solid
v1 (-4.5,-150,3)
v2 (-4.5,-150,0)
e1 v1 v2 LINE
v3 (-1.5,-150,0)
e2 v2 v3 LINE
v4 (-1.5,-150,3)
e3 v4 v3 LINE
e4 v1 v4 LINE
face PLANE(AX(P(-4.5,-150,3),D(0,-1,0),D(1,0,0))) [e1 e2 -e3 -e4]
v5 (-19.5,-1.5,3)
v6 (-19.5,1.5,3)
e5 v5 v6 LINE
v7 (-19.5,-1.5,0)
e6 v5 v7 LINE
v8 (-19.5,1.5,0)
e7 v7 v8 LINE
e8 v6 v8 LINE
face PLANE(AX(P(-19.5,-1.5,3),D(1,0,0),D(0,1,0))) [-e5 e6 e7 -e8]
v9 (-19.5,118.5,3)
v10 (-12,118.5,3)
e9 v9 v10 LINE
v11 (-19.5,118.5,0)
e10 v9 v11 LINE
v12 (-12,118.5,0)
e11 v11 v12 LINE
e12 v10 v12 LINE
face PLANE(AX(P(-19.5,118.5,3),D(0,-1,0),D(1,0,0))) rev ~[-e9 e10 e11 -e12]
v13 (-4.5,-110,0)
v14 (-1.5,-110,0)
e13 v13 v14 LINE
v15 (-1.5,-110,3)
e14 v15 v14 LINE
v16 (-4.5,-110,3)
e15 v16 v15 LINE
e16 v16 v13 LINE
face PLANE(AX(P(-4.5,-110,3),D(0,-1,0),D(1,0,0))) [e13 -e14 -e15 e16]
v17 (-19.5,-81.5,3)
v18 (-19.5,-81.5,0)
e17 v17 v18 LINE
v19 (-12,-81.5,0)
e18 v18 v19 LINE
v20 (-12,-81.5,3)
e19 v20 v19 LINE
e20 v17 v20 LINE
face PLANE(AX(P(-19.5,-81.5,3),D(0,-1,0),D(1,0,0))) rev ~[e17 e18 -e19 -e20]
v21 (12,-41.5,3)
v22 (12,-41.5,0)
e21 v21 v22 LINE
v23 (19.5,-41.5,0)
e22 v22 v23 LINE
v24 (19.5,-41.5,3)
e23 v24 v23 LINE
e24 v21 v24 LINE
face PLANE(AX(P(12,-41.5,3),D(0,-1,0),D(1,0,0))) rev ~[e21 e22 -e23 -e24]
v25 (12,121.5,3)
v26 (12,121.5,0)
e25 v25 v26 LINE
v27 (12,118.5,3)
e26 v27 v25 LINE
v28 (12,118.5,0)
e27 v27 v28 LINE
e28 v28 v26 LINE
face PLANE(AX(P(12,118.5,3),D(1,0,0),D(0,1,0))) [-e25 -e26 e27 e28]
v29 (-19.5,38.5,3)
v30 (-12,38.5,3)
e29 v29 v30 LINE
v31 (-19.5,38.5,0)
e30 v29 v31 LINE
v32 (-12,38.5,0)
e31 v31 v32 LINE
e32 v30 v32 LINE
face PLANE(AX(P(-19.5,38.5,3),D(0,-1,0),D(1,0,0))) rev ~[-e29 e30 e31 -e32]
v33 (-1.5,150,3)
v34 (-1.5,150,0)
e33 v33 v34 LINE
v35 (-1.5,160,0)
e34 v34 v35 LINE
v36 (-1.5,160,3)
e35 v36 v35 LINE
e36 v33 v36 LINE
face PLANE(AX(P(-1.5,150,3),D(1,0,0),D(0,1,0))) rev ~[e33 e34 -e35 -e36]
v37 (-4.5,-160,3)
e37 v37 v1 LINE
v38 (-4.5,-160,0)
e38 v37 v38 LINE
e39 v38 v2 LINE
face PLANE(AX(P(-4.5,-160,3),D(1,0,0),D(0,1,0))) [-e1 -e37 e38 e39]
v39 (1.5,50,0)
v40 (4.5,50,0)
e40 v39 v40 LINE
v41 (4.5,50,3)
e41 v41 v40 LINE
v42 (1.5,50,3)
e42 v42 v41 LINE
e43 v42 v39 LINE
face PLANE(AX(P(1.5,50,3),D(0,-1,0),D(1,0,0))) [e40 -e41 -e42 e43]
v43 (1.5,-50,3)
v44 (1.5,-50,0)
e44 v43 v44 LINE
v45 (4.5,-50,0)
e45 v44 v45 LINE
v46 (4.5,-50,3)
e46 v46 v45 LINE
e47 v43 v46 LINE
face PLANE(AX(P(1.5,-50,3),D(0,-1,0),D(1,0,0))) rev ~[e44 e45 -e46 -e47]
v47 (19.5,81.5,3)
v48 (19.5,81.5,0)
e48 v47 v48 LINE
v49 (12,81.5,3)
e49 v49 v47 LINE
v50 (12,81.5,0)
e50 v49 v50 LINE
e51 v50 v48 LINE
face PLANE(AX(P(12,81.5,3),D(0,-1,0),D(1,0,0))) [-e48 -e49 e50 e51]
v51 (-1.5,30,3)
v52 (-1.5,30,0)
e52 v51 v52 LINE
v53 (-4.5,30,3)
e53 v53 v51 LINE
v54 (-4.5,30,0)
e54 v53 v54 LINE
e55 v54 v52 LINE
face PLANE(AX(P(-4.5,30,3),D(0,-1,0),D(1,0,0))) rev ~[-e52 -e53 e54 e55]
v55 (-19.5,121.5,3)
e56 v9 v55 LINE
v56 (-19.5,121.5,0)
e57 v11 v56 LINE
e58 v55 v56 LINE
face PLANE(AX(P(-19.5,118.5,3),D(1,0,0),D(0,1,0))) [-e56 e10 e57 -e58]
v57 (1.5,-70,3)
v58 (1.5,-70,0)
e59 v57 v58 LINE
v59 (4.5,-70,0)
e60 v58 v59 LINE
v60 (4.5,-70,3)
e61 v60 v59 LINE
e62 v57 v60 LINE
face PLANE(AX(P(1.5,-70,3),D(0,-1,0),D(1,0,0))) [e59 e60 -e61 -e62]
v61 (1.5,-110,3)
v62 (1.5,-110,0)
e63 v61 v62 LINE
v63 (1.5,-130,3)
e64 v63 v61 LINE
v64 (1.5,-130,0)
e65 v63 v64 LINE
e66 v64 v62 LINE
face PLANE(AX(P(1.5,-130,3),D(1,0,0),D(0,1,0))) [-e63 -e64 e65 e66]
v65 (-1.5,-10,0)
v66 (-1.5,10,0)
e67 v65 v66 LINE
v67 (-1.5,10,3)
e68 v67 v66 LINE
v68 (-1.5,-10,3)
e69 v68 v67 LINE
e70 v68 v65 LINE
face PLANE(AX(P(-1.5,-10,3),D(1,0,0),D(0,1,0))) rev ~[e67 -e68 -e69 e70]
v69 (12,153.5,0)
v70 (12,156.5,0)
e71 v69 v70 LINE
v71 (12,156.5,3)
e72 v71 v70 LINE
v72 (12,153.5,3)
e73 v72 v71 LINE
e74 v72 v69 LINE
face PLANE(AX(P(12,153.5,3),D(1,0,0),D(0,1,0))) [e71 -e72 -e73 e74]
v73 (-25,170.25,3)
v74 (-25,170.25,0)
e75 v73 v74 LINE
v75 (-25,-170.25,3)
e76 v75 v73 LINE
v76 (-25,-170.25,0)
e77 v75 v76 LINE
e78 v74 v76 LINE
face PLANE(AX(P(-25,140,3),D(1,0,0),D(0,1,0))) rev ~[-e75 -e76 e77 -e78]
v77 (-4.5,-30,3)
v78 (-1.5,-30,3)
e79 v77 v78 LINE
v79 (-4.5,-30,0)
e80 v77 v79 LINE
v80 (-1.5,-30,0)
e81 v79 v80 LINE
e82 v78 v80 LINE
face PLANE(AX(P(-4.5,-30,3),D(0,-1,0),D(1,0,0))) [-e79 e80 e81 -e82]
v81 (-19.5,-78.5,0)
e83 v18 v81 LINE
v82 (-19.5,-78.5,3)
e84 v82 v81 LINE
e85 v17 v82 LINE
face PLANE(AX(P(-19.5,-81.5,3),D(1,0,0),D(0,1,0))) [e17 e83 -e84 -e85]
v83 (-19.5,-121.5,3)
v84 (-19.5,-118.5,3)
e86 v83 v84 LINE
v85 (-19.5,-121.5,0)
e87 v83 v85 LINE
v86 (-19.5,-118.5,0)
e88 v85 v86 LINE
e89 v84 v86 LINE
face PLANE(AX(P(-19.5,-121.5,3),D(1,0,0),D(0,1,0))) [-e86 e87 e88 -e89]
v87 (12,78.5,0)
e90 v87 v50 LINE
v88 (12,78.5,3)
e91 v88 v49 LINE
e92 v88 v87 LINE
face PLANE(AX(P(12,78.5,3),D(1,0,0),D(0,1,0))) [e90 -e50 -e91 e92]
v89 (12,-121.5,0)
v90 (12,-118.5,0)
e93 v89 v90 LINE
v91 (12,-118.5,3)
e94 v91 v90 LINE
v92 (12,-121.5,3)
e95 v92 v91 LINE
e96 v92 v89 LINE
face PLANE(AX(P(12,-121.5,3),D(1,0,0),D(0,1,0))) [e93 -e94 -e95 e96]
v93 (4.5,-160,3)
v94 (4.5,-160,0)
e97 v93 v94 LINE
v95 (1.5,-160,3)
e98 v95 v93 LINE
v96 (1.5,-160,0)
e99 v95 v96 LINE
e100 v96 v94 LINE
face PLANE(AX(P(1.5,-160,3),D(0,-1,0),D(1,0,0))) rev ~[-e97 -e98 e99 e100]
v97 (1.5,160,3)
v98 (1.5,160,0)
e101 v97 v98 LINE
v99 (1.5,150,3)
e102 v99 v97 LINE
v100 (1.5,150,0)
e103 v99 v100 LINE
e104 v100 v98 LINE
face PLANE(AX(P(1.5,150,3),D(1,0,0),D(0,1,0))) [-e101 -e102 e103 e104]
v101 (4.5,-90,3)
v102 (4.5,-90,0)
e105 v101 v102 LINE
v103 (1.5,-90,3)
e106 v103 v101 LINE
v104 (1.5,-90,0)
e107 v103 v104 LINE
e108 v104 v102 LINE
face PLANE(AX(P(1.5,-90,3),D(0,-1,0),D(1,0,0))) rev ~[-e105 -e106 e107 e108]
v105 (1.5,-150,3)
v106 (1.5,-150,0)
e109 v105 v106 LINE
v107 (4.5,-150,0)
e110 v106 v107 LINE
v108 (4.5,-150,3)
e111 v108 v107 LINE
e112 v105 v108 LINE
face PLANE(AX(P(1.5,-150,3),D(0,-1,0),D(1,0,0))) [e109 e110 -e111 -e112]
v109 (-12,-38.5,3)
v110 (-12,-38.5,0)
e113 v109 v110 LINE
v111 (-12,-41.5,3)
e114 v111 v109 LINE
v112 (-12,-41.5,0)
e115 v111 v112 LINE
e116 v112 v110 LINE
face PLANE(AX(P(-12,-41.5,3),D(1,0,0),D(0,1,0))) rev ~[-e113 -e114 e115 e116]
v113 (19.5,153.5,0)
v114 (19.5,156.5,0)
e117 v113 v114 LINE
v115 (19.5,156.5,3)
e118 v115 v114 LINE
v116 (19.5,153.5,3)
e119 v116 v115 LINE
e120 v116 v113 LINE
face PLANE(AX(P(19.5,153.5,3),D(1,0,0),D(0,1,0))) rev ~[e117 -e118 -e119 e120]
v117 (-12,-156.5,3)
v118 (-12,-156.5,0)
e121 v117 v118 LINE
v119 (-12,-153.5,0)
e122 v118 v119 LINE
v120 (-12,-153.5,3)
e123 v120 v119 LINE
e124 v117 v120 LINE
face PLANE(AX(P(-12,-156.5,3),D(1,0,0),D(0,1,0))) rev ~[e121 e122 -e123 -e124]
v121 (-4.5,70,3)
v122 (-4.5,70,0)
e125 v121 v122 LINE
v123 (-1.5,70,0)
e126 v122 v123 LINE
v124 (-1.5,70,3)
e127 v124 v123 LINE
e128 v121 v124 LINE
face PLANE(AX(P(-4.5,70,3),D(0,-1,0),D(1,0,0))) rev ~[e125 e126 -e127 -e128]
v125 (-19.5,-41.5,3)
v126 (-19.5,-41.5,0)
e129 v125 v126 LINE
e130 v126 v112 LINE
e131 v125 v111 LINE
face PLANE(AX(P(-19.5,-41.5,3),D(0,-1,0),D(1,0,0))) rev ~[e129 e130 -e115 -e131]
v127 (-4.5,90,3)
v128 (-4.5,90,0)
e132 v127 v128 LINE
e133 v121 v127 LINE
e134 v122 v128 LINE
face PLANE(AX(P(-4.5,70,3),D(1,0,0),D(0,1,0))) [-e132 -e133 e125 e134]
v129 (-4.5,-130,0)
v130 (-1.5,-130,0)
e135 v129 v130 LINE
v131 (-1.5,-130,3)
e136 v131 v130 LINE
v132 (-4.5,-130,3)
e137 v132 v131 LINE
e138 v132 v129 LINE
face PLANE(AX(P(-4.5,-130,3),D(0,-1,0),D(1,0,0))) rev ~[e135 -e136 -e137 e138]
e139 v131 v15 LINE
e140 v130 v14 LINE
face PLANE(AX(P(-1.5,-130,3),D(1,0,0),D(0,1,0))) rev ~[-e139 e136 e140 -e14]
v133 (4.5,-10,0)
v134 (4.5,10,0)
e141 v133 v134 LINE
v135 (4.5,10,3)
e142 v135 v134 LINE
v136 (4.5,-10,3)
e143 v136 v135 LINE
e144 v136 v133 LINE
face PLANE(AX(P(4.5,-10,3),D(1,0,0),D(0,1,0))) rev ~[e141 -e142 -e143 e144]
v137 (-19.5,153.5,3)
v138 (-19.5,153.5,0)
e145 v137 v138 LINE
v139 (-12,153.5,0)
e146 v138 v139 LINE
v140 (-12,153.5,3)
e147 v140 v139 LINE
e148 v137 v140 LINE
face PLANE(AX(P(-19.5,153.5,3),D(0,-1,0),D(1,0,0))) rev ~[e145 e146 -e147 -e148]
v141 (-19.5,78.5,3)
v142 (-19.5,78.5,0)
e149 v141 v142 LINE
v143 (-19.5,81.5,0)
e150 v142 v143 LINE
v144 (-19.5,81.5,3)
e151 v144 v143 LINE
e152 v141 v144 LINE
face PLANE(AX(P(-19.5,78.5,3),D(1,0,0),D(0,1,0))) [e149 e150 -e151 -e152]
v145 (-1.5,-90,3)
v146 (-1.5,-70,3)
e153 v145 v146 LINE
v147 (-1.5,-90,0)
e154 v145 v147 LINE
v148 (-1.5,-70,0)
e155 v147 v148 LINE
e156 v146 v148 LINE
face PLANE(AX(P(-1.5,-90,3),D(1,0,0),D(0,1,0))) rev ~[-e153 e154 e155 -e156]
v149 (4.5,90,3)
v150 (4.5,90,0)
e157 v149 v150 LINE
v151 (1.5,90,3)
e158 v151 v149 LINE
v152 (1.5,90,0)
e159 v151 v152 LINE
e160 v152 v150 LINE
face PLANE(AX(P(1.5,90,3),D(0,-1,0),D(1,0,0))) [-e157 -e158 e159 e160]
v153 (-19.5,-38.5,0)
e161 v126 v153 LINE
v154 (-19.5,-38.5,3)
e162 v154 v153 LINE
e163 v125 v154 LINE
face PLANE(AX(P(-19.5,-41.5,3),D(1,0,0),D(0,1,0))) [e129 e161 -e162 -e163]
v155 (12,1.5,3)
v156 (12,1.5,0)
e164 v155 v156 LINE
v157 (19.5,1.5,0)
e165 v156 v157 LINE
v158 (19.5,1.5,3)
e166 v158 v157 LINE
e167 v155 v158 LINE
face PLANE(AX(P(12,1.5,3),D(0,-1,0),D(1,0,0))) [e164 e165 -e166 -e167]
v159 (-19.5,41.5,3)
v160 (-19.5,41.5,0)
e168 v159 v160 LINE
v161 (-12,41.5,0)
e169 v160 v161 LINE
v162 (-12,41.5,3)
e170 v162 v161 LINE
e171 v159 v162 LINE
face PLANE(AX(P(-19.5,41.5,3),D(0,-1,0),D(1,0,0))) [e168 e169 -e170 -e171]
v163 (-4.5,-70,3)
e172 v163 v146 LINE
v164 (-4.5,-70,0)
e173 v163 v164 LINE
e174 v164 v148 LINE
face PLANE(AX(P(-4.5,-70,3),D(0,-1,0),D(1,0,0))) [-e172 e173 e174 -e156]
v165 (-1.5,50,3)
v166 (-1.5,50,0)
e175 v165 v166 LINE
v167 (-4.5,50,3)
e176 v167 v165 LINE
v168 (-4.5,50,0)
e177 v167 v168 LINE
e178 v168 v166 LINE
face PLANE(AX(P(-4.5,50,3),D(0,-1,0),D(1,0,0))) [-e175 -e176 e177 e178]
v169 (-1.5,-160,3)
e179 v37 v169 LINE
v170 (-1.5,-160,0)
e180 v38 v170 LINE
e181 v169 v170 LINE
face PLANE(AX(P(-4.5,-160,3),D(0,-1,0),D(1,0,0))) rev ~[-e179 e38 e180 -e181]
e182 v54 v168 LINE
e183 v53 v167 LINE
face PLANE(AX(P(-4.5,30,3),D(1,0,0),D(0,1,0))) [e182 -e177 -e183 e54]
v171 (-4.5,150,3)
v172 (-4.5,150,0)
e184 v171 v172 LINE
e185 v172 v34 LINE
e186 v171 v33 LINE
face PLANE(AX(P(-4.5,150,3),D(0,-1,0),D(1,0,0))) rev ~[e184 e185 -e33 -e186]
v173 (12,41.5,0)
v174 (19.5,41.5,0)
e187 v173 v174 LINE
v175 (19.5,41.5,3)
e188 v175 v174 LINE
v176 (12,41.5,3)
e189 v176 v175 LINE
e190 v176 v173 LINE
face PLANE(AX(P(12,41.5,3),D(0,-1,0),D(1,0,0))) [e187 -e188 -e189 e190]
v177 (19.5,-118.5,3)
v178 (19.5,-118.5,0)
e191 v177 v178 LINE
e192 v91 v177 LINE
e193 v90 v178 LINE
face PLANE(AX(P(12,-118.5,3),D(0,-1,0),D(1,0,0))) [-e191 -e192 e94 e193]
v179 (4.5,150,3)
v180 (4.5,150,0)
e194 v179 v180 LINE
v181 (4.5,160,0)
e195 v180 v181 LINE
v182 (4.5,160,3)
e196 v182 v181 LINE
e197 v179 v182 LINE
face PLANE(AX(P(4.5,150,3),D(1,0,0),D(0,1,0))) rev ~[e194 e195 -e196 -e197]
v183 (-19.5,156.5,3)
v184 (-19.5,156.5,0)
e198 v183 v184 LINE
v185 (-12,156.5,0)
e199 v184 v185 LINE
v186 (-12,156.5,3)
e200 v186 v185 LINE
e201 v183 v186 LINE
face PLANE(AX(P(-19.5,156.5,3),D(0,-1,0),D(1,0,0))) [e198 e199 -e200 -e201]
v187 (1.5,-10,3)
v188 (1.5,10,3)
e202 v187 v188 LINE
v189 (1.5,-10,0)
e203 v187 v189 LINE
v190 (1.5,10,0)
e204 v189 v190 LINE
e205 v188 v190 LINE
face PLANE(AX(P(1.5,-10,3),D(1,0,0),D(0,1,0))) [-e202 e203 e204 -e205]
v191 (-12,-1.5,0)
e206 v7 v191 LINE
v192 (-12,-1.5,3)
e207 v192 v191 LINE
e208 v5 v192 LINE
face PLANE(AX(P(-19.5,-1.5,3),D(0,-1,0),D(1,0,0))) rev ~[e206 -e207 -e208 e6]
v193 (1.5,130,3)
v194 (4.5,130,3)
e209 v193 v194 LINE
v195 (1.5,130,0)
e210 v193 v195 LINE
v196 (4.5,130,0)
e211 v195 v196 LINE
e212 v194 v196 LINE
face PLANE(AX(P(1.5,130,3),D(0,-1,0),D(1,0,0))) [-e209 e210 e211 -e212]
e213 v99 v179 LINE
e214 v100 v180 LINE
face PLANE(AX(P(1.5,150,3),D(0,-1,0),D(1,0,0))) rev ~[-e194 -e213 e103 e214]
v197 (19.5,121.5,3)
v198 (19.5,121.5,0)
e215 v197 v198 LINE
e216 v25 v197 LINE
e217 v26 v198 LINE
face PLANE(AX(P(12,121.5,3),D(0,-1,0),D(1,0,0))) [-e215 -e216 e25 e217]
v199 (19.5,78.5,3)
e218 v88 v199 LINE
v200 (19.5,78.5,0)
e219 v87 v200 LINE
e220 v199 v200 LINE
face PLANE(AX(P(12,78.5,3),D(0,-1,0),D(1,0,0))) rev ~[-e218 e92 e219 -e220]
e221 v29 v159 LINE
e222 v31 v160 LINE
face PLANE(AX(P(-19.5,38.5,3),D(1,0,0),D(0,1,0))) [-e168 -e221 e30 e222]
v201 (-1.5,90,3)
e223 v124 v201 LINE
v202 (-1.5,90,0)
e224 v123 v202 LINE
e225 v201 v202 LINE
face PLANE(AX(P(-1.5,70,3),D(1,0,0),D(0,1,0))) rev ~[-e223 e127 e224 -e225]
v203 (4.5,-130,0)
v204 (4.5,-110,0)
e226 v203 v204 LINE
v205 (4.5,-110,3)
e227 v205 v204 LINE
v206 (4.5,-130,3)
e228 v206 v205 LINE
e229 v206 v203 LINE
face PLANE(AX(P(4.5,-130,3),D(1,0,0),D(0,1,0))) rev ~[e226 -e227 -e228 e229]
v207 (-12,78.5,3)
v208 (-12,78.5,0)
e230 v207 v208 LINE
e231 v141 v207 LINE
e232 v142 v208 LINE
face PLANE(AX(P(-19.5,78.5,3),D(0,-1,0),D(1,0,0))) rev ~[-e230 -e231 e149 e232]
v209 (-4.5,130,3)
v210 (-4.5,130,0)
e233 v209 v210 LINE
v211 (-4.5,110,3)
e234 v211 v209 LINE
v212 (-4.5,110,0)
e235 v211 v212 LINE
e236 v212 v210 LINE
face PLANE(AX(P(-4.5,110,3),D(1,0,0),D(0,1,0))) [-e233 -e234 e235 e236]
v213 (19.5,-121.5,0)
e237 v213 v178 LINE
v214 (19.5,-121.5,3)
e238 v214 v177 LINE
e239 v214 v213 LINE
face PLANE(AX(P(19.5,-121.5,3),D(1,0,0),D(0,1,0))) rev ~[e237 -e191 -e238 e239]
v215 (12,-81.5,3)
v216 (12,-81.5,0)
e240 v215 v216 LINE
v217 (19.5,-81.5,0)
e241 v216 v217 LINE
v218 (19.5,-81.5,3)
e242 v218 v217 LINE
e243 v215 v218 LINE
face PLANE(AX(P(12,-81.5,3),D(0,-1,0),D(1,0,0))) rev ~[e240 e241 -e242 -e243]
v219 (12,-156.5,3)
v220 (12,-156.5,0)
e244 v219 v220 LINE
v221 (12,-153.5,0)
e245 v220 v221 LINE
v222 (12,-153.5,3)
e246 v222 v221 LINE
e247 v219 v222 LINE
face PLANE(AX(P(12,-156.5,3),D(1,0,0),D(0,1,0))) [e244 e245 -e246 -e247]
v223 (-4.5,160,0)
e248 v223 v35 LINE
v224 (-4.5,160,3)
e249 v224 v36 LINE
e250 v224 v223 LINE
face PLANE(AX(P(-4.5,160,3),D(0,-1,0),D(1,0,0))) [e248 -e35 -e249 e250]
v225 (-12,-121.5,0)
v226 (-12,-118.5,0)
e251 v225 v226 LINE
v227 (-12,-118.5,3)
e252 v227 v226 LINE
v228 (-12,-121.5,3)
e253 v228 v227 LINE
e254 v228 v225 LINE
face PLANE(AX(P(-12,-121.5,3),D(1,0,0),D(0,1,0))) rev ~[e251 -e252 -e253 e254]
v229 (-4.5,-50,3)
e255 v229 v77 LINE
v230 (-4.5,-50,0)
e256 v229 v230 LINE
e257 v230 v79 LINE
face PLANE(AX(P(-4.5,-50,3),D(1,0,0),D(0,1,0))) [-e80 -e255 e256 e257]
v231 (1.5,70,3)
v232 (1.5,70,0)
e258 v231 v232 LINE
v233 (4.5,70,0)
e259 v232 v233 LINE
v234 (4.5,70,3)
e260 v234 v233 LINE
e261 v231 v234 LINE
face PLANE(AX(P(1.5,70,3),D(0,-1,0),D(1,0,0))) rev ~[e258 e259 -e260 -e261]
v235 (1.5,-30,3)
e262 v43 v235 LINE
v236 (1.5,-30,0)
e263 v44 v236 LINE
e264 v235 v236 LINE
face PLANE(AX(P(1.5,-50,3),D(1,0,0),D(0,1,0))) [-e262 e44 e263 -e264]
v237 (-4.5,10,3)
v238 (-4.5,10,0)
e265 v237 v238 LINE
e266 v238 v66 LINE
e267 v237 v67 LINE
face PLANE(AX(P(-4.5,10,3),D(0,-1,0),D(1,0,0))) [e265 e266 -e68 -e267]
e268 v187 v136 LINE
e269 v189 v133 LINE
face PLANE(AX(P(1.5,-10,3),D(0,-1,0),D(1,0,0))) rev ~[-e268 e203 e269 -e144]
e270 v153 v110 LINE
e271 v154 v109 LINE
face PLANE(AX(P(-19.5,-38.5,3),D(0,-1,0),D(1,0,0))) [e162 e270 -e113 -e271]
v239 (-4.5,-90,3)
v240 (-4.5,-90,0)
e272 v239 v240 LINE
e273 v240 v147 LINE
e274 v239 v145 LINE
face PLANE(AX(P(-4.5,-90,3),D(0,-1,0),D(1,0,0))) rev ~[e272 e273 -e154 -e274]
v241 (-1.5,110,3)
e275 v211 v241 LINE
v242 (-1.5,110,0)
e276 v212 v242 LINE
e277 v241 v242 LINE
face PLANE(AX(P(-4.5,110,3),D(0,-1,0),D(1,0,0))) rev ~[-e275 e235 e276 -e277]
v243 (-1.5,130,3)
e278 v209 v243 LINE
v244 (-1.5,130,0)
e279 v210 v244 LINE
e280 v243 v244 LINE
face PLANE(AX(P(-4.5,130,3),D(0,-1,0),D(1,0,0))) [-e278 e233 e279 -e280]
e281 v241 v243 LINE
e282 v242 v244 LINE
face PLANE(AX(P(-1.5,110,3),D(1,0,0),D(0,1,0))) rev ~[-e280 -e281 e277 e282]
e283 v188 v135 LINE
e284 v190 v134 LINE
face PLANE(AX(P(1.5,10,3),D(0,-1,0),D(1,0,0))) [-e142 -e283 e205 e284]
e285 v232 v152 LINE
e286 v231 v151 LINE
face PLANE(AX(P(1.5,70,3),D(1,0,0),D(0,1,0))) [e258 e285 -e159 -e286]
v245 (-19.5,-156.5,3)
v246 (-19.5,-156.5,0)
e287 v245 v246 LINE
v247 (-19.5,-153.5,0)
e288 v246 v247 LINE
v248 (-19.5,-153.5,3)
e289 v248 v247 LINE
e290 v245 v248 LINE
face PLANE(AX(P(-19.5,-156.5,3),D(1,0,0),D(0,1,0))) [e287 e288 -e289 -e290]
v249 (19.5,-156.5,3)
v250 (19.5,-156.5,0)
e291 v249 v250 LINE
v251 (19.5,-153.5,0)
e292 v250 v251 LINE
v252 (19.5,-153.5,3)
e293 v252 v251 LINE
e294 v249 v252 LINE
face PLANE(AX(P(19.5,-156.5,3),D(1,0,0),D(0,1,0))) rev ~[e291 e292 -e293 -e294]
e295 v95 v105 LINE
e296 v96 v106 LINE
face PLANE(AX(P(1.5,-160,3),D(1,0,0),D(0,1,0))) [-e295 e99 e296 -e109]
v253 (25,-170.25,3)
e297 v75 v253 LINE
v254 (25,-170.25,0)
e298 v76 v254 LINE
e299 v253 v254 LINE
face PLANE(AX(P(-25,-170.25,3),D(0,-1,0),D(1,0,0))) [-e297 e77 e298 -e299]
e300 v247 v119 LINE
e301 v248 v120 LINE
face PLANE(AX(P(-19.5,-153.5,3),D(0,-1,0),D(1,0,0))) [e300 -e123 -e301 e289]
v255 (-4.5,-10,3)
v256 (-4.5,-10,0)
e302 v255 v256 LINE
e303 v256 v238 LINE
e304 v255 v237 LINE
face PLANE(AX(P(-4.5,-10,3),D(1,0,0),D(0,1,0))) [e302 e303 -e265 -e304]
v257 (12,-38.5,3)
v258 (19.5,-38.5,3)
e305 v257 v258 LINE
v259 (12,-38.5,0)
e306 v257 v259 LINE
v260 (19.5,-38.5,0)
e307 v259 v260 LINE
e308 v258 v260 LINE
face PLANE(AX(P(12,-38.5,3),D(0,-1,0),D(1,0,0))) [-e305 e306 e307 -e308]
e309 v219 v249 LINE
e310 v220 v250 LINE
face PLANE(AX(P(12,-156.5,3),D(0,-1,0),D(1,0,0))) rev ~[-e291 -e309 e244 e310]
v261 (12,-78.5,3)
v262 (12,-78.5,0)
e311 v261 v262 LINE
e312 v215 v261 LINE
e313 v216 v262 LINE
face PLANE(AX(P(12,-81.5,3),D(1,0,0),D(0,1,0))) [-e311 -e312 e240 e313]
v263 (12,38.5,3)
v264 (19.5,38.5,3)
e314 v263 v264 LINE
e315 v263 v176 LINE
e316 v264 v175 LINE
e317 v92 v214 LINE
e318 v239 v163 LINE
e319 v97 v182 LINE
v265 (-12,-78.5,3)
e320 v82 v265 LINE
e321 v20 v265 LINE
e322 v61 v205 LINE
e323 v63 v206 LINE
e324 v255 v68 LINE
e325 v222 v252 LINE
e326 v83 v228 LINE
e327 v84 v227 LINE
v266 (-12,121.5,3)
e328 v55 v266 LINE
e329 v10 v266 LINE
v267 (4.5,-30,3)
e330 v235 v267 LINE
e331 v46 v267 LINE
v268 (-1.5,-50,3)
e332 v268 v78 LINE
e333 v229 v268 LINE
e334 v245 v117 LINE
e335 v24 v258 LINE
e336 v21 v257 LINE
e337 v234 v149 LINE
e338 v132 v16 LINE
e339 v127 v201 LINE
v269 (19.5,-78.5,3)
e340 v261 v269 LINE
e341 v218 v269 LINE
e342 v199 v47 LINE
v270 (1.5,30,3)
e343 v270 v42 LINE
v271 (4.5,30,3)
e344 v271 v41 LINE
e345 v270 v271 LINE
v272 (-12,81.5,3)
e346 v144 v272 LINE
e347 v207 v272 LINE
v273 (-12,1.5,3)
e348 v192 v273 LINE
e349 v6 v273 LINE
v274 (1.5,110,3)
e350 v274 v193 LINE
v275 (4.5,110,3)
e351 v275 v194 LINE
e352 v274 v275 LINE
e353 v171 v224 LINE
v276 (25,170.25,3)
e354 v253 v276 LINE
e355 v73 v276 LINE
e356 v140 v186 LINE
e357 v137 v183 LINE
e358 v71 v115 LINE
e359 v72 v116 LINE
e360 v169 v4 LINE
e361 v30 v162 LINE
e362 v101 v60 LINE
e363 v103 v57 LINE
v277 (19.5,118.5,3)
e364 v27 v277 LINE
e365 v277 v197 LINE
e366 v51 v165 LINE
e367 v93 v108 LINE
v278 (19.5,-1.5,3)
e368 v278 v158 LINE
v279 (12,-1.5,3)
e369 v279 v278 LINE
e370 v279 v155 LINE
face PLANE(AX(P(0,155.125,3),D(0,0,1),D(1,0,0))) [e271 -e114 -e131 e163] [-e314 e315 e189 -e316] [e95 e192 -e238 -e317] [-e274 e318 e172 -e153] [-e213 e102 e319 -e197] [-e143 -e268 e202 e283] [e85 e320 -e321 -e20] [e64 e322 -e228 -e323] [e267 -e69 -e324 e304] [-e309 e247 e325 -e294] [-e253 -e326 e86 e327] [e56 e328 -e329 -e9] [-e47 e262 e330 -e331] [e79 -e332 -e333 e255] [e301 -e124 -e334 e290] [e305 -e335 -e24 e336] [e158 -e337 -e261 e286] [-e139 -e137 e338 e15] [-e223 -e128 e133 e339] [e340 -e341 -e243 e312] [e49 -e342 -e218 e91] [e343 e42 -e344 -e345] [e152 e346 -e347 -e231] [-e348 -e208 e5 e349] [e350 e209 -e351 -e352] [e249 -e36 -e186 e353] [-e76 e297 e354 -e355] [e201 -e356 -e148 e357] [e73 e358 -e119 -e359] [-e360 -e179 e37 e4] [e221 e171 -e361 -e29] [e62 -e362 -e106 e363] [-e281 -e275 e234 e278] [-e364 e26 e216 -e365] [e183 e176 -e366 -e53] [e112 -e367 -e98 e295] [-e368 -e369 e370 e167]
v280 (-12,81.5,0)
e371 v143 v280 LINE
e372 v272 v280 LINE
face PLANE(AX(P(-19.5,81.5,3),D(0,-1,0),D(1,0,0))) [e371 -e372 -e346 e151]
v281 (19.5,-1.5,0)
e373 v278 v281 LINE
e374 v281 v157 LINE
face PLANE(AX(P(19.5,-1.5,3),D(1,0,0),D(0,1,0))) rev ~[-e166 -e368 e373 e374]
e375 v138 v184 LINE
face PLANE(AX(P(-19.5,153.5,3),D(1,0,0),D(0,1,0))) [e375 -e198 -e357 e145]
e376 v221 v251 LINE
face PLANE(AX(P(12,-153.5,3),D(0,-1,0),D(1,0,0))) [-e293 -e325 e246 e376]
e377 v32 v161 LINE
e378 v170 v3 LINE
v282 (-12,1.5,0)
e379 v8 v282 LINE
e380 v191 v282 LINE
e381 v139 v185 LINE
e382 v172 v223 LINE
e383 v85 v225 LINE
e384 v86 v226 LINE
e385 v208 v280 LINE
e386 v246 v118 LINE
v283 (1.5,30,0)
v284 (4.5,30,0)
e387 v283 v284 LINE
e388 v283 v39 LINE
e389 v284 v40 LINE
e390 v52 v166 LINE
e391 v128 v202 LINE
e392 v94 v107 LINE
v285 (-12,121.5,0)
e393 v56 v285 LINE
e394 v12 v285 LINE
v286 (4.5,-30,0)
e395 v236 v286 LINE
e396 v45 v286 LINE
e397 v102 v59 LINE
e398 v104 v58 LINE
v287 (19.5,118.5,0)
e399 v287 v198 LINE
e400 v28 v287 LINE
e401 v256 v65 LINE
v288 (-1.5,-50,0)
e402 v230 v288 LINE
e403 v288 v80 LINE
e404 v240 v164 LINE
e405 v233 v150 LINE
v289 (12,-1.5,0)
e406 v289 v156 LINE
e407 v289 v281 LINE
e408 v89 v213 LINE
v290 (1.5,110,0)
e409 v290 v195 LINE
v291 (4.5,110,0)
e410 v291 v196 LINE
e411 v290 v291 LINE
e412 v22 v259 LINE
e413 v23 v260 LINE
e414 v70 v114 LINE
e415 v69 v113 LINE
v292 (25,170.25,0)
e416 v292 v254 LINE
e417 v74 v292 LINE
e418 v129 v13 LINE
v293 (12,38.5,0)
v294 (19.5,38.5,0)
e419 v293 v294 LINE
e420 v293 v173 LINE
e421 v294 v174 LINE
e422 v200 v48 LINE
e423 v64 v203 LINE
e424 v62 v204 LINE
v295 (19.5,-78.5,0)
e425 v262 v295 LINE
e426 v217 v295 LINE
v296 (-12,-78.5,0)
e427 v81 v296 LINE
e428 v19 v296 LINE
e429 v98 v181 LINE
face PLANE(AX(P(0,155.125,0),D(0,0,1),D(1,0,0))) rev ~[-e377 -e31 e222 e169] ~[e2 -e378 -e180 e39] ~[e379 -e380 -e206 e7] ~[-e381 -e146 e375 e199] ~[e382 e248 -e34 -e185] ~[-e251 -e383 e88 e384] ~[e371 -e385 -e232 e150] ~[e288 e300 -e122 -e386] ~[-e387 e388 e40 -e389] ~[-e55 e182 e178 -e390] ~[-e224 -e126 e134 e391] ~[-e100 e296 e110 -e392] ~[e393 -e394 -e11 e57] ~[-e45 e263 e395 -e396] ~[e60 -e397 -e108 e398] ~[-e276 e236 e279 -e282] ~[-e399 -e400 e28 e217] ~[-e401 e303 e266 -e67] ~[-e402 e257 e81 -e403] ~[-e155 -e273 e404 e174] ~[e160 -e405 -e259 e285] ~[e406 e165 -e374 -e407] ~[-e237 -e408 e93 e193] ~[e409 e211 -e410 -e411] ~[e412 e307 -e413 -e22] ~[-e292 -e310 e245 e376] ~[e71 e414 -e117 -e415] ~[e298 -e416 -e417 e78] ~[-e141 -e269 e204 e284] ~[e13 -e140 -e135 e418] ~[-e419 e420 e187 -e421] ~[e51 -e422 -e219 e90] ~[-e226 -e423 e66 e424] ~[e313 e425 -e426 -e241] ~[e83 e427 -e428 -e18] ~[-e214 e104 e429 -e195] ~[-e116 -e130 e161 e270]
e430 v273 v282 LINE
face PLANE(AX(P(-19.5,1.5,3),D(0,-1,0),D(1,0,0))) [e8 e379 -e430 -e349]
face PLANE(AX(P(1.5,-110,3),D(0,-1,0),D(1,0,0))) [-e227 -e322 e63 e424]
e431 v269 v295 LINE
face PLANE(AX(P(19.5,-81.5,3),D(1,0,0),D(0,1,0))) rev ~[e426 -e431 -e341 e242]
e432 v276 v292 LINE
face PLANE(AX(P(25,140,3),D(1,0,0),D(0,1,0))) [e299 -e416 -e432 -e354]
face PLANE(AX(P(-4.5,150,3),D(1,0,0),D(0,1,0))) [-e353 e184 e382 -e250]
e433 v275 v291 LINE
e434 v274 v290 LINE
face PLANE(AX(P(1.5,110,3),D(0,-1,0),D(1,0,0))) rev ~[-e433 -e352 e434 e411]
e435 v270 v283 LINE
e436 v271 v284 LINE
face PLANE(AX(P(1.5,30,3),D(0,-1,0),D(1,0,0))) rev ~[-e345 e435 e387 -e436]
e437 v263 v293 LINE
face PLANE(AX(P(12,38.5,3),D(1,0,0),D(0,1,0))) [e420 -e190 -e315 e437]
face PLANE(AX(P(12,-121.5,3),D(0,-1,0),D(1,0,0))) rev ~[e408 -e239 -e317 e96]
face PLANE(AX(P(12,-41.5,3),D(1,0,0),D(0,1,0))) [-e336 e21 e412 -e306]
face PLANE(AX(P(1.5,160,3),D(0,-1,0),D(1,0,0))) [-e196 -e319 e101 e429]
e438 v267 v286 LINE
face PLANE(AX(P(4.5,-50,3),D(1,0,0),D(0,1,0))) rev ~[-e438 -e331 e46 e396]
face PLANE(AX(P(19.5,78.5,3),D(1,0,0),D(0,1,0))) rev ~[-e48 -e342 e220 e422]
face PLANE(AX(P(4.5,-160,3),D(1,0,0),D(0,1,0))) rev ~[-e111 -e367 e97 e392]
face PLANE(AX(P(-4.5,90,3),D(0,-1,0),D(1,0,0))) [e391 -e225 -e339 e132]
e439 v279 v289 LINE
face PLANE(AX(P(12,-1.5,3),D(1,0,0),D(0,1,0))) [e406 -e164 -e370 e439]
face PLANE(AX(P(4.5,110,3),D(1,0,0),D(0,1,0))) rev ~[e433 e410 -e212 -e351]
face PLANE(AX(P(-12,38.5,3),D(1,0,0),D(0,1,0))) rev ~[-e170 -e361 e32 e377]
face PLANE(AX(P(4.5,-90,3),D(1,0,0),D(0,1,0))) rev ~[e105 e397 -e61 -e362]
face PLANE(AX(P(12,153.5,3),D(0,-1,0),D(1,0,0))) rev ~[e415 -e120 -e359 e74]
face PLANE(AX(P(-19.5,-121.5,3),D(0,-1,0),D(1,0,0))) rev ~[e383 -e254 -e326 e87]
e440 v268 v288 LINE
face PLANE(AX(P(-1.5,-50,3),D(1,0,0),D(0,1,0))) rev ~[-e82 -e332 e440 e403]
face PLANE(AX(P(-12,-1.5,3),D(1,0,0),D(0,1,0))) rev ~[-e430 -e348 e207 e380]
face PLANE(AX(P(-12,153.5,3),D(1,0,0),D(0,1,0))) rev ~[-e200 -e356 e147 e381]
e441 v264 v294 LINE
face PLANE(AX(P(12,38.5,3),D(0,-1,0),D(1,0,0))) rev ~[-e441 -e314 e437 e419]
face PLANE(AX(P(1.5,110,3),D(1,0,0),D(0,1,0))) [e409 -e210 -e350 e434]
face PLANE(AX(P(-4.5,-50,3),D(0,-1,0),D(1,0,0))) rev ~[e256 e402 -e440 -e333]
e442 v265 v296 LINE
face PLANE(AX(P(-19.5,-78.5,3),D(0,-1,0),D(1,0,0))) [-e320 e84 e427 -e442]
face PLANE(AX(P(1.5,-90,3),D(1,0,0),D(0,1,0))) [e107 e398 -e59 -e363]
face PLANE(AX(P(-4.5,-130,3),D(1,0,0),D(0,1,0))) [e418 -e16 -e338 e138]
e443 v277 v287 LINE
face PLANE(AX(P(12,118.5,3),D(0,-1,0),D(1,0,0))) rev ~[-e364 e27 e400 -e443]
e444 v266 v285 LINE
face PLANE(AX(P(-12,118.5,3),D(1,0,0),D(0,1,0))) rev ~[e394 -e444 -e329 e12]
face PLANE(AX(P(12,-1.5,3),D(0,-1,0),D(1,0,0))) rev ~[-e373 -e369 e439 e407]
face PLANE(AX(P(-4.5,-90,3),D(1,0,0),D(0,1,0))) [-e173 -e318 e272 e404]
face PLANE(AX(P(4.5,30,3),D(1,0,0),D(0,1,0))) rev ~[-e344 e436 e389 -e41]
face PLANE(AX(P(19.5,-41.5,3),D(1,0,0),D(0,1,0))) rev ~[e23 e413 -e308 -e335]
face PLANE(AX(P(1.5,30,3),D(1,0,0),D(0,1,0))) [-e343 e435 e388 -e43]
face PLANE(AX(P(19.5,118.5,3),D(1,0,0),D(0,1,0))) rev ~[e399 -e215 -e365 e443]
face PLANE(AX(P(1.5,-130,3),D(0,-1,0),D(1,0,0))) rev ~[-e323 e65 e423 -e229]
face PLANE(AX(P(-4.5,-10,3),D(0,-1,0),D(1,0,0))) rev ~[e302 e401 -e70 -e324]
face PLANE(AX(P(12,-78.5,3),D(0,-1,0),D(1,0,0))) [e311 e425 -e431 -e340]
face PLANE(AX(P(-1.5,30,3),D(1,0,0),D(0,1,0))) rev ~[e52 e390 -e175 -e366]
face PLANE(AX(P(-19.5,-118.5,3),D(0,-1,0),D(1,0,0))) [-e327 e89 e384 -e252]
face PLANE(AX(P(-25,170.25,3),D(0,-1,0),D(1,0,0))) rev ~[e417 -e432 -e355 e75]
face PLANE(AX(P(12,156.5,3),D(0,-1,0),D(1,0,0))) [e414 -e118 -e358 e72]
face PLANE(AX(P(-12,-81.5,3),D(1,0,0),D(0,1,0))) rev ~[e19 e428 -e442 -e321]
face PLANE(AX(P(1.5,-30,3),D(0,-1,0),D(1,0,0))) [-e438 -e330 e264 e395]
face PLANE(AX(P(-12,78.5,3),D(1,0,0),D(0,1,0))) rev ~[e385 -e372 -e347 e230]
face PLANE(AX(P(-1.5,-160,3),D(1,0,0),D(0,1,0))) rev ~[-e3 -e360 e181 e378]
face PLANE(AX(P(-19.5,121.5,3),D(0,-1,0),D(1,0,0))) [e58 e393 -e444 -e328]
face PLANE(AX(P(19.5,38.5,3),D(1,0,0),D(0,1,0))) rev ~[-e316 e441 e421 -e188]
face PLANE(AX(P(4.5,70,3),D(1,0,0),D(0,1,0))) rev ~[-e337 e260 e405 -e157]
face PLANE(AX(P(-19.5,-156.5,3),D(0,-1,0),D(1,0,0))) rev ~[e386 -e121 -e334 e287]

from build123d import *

# Parameters (mm, degrees)
F0_W      = 50
F0_H      = 280
F1_DEPTH  = 3
F2_W      = 3
F2_H      = 20
F3_DEPTH  = 25
F4_W      = 7.5
F4_H      = 3
F5_DEPTH  = 25
F6_W      = 50
F6_H      = 30.25
F7_DEPTH  = 3
F8_W      = 3
F8_H      = 10
F9_DEPTH  = 25
F10_W     = 7.5
F10_H     = 3
F11_DEPTH = 25


with BuildPart() as f1:
    # F0 (on Top) → F1 (new body)
    with BuildSketch(Plane.XY):
        Rectangle(F0_W, F0_H)
    extrude(amount=F1_DEPTH)

    # F2 (on face) → F3 (cut)
    with BuildSketch(Plane.XY.offset(3)):
        with Locations((3, 120)):
            Rectangle(F2_W, F2_H)
        with Locations((3, 80)):
            Rectangle(F2_W, F2_H)
        with Locations((3, 40)):
            Rectangle(F2_W, F2_H)
        with Locations((3, 0)):
            Rectangle(F2_W, F2_H)
        with Locations((3, -40)):
            Rectangle(F2_W, F2_H)
        with Locations((3, -80)):
            Rectangle(F2_W, F2_H)
        with Locations((3, -120)):
            Rectangle(F2_W, F2_H)
        with Locations((-3, 120)):
            Rectangle(F2_W, F2_H)
        with Locations((-3, 80)):
            Rectangle(F2_W, F2_H)
        with Locations((-3, 40)):
            Rectangle(F2_W, F2_H)
        with Locations((-3, 0)):
            Rectangle(F2_W, F2_H)
        with Locations((-3, -40)):
            Rectangle(F2_W, F2_H)
        with Locations((-3, -80)):
            Rectangle(F2_W, F2_H)
        with Locations((-3, -120)):
            Rectangle(F2_W, F2_H)
    extrude(amount=-F3_DEPTH, mode=Mode.SUBTRACT)

    # F4 (on face) → F5 (cut)
    with BuildSketch(Plane.XY.offset(3)):
        with Locations((15.75, 120)):
            Rectangle(F4_W, F4_H)
        with Locations((15.75, 80)):
            Rectangle(F4_W, F4_H)
        with Locations((15.75, 40)):
            Rectangle(F4_W, F4_H)
        with Locations((15.75, 0)):
            Rectangle(F4_W, F4_H)
        with Locations((15.75, -40)):
            Rectangle(F4_W, F4_H)
        with Locations((15.75, -80)):
            Rectangle(F4_W, F4_H)
        with Locations((15.75, -120)):
            Rectangle(F4_W, F4_H)
        with Locations((-15.75, 120)):
            Rectangle(F4_W, F4_H)
        with Locations((-15.75, -80)):
            Rectangle(F4_W, F4_H)
        with Locations((-15.75, 40)):
            Rectangle(F4_W, F4_H)
        with Locations((-15.75, 80)):
            Rectangle(F4_W, F4_H)
        with Locations((-15.75, -40)):
            Rectangle(F4_W, F4_H)
        with Locations((-15.75, -120)):
            Rectangle(F4_W, F4_H)
        with Locations((-15.75, 0)):
            Rectangle(F4_W, F4_H)
    extrude(amount=-F5_DEPTH, mode=Mode.SUBTRACT)

    # F6 (on face) → F7 (join)
    with BuildSketch(Plane.XY.offset(3)):
        with Locations((0, 155.125)):
            Rectangle(F6_W, F6_H)
        with Locations((0, -155.125)):
            Rectangle(F6_W, F6_H)
    extrude(amount=-F7_DEPTH)

    # F8 (on face) → F9 (cut)
    with BuildSketch(Plane.XY.offset(3)):
        with Locations((-3, 155)):
            Rectangle(F8_W, F8_H)
        with Locations((3, 155)):
            Rectangle(F8_W, F8_H)
        with Locations((3, -155)):
            Rectangle(F8_W, F8_H)
        with Locations((-3, -155)):
            Rectangle(F8_W, F8_H)
    extrude(amount=-F9_DEPTH, mode=Mode.SUBTRACT)

    # F10 (on face) → F11 (cut)
    with BuildSketch(Plane.XY.offset(3)):
        with Locations((-15.75, -155)):
            Rectangle(F10_W, F10_H)
        with Locations((15.75, -155)):
            Rectangle(F10_W, F10_H)
        with Locations((-15.75, 155)):
            Rectangle(F10_W, F10_H)
        with Locations((15.75, 155)):
            Rectangle(F10_W, F10_H)
    extrude(amount=-F11_DEPTH, mode=Mode.SUBTRACT)


solid = f1.part
